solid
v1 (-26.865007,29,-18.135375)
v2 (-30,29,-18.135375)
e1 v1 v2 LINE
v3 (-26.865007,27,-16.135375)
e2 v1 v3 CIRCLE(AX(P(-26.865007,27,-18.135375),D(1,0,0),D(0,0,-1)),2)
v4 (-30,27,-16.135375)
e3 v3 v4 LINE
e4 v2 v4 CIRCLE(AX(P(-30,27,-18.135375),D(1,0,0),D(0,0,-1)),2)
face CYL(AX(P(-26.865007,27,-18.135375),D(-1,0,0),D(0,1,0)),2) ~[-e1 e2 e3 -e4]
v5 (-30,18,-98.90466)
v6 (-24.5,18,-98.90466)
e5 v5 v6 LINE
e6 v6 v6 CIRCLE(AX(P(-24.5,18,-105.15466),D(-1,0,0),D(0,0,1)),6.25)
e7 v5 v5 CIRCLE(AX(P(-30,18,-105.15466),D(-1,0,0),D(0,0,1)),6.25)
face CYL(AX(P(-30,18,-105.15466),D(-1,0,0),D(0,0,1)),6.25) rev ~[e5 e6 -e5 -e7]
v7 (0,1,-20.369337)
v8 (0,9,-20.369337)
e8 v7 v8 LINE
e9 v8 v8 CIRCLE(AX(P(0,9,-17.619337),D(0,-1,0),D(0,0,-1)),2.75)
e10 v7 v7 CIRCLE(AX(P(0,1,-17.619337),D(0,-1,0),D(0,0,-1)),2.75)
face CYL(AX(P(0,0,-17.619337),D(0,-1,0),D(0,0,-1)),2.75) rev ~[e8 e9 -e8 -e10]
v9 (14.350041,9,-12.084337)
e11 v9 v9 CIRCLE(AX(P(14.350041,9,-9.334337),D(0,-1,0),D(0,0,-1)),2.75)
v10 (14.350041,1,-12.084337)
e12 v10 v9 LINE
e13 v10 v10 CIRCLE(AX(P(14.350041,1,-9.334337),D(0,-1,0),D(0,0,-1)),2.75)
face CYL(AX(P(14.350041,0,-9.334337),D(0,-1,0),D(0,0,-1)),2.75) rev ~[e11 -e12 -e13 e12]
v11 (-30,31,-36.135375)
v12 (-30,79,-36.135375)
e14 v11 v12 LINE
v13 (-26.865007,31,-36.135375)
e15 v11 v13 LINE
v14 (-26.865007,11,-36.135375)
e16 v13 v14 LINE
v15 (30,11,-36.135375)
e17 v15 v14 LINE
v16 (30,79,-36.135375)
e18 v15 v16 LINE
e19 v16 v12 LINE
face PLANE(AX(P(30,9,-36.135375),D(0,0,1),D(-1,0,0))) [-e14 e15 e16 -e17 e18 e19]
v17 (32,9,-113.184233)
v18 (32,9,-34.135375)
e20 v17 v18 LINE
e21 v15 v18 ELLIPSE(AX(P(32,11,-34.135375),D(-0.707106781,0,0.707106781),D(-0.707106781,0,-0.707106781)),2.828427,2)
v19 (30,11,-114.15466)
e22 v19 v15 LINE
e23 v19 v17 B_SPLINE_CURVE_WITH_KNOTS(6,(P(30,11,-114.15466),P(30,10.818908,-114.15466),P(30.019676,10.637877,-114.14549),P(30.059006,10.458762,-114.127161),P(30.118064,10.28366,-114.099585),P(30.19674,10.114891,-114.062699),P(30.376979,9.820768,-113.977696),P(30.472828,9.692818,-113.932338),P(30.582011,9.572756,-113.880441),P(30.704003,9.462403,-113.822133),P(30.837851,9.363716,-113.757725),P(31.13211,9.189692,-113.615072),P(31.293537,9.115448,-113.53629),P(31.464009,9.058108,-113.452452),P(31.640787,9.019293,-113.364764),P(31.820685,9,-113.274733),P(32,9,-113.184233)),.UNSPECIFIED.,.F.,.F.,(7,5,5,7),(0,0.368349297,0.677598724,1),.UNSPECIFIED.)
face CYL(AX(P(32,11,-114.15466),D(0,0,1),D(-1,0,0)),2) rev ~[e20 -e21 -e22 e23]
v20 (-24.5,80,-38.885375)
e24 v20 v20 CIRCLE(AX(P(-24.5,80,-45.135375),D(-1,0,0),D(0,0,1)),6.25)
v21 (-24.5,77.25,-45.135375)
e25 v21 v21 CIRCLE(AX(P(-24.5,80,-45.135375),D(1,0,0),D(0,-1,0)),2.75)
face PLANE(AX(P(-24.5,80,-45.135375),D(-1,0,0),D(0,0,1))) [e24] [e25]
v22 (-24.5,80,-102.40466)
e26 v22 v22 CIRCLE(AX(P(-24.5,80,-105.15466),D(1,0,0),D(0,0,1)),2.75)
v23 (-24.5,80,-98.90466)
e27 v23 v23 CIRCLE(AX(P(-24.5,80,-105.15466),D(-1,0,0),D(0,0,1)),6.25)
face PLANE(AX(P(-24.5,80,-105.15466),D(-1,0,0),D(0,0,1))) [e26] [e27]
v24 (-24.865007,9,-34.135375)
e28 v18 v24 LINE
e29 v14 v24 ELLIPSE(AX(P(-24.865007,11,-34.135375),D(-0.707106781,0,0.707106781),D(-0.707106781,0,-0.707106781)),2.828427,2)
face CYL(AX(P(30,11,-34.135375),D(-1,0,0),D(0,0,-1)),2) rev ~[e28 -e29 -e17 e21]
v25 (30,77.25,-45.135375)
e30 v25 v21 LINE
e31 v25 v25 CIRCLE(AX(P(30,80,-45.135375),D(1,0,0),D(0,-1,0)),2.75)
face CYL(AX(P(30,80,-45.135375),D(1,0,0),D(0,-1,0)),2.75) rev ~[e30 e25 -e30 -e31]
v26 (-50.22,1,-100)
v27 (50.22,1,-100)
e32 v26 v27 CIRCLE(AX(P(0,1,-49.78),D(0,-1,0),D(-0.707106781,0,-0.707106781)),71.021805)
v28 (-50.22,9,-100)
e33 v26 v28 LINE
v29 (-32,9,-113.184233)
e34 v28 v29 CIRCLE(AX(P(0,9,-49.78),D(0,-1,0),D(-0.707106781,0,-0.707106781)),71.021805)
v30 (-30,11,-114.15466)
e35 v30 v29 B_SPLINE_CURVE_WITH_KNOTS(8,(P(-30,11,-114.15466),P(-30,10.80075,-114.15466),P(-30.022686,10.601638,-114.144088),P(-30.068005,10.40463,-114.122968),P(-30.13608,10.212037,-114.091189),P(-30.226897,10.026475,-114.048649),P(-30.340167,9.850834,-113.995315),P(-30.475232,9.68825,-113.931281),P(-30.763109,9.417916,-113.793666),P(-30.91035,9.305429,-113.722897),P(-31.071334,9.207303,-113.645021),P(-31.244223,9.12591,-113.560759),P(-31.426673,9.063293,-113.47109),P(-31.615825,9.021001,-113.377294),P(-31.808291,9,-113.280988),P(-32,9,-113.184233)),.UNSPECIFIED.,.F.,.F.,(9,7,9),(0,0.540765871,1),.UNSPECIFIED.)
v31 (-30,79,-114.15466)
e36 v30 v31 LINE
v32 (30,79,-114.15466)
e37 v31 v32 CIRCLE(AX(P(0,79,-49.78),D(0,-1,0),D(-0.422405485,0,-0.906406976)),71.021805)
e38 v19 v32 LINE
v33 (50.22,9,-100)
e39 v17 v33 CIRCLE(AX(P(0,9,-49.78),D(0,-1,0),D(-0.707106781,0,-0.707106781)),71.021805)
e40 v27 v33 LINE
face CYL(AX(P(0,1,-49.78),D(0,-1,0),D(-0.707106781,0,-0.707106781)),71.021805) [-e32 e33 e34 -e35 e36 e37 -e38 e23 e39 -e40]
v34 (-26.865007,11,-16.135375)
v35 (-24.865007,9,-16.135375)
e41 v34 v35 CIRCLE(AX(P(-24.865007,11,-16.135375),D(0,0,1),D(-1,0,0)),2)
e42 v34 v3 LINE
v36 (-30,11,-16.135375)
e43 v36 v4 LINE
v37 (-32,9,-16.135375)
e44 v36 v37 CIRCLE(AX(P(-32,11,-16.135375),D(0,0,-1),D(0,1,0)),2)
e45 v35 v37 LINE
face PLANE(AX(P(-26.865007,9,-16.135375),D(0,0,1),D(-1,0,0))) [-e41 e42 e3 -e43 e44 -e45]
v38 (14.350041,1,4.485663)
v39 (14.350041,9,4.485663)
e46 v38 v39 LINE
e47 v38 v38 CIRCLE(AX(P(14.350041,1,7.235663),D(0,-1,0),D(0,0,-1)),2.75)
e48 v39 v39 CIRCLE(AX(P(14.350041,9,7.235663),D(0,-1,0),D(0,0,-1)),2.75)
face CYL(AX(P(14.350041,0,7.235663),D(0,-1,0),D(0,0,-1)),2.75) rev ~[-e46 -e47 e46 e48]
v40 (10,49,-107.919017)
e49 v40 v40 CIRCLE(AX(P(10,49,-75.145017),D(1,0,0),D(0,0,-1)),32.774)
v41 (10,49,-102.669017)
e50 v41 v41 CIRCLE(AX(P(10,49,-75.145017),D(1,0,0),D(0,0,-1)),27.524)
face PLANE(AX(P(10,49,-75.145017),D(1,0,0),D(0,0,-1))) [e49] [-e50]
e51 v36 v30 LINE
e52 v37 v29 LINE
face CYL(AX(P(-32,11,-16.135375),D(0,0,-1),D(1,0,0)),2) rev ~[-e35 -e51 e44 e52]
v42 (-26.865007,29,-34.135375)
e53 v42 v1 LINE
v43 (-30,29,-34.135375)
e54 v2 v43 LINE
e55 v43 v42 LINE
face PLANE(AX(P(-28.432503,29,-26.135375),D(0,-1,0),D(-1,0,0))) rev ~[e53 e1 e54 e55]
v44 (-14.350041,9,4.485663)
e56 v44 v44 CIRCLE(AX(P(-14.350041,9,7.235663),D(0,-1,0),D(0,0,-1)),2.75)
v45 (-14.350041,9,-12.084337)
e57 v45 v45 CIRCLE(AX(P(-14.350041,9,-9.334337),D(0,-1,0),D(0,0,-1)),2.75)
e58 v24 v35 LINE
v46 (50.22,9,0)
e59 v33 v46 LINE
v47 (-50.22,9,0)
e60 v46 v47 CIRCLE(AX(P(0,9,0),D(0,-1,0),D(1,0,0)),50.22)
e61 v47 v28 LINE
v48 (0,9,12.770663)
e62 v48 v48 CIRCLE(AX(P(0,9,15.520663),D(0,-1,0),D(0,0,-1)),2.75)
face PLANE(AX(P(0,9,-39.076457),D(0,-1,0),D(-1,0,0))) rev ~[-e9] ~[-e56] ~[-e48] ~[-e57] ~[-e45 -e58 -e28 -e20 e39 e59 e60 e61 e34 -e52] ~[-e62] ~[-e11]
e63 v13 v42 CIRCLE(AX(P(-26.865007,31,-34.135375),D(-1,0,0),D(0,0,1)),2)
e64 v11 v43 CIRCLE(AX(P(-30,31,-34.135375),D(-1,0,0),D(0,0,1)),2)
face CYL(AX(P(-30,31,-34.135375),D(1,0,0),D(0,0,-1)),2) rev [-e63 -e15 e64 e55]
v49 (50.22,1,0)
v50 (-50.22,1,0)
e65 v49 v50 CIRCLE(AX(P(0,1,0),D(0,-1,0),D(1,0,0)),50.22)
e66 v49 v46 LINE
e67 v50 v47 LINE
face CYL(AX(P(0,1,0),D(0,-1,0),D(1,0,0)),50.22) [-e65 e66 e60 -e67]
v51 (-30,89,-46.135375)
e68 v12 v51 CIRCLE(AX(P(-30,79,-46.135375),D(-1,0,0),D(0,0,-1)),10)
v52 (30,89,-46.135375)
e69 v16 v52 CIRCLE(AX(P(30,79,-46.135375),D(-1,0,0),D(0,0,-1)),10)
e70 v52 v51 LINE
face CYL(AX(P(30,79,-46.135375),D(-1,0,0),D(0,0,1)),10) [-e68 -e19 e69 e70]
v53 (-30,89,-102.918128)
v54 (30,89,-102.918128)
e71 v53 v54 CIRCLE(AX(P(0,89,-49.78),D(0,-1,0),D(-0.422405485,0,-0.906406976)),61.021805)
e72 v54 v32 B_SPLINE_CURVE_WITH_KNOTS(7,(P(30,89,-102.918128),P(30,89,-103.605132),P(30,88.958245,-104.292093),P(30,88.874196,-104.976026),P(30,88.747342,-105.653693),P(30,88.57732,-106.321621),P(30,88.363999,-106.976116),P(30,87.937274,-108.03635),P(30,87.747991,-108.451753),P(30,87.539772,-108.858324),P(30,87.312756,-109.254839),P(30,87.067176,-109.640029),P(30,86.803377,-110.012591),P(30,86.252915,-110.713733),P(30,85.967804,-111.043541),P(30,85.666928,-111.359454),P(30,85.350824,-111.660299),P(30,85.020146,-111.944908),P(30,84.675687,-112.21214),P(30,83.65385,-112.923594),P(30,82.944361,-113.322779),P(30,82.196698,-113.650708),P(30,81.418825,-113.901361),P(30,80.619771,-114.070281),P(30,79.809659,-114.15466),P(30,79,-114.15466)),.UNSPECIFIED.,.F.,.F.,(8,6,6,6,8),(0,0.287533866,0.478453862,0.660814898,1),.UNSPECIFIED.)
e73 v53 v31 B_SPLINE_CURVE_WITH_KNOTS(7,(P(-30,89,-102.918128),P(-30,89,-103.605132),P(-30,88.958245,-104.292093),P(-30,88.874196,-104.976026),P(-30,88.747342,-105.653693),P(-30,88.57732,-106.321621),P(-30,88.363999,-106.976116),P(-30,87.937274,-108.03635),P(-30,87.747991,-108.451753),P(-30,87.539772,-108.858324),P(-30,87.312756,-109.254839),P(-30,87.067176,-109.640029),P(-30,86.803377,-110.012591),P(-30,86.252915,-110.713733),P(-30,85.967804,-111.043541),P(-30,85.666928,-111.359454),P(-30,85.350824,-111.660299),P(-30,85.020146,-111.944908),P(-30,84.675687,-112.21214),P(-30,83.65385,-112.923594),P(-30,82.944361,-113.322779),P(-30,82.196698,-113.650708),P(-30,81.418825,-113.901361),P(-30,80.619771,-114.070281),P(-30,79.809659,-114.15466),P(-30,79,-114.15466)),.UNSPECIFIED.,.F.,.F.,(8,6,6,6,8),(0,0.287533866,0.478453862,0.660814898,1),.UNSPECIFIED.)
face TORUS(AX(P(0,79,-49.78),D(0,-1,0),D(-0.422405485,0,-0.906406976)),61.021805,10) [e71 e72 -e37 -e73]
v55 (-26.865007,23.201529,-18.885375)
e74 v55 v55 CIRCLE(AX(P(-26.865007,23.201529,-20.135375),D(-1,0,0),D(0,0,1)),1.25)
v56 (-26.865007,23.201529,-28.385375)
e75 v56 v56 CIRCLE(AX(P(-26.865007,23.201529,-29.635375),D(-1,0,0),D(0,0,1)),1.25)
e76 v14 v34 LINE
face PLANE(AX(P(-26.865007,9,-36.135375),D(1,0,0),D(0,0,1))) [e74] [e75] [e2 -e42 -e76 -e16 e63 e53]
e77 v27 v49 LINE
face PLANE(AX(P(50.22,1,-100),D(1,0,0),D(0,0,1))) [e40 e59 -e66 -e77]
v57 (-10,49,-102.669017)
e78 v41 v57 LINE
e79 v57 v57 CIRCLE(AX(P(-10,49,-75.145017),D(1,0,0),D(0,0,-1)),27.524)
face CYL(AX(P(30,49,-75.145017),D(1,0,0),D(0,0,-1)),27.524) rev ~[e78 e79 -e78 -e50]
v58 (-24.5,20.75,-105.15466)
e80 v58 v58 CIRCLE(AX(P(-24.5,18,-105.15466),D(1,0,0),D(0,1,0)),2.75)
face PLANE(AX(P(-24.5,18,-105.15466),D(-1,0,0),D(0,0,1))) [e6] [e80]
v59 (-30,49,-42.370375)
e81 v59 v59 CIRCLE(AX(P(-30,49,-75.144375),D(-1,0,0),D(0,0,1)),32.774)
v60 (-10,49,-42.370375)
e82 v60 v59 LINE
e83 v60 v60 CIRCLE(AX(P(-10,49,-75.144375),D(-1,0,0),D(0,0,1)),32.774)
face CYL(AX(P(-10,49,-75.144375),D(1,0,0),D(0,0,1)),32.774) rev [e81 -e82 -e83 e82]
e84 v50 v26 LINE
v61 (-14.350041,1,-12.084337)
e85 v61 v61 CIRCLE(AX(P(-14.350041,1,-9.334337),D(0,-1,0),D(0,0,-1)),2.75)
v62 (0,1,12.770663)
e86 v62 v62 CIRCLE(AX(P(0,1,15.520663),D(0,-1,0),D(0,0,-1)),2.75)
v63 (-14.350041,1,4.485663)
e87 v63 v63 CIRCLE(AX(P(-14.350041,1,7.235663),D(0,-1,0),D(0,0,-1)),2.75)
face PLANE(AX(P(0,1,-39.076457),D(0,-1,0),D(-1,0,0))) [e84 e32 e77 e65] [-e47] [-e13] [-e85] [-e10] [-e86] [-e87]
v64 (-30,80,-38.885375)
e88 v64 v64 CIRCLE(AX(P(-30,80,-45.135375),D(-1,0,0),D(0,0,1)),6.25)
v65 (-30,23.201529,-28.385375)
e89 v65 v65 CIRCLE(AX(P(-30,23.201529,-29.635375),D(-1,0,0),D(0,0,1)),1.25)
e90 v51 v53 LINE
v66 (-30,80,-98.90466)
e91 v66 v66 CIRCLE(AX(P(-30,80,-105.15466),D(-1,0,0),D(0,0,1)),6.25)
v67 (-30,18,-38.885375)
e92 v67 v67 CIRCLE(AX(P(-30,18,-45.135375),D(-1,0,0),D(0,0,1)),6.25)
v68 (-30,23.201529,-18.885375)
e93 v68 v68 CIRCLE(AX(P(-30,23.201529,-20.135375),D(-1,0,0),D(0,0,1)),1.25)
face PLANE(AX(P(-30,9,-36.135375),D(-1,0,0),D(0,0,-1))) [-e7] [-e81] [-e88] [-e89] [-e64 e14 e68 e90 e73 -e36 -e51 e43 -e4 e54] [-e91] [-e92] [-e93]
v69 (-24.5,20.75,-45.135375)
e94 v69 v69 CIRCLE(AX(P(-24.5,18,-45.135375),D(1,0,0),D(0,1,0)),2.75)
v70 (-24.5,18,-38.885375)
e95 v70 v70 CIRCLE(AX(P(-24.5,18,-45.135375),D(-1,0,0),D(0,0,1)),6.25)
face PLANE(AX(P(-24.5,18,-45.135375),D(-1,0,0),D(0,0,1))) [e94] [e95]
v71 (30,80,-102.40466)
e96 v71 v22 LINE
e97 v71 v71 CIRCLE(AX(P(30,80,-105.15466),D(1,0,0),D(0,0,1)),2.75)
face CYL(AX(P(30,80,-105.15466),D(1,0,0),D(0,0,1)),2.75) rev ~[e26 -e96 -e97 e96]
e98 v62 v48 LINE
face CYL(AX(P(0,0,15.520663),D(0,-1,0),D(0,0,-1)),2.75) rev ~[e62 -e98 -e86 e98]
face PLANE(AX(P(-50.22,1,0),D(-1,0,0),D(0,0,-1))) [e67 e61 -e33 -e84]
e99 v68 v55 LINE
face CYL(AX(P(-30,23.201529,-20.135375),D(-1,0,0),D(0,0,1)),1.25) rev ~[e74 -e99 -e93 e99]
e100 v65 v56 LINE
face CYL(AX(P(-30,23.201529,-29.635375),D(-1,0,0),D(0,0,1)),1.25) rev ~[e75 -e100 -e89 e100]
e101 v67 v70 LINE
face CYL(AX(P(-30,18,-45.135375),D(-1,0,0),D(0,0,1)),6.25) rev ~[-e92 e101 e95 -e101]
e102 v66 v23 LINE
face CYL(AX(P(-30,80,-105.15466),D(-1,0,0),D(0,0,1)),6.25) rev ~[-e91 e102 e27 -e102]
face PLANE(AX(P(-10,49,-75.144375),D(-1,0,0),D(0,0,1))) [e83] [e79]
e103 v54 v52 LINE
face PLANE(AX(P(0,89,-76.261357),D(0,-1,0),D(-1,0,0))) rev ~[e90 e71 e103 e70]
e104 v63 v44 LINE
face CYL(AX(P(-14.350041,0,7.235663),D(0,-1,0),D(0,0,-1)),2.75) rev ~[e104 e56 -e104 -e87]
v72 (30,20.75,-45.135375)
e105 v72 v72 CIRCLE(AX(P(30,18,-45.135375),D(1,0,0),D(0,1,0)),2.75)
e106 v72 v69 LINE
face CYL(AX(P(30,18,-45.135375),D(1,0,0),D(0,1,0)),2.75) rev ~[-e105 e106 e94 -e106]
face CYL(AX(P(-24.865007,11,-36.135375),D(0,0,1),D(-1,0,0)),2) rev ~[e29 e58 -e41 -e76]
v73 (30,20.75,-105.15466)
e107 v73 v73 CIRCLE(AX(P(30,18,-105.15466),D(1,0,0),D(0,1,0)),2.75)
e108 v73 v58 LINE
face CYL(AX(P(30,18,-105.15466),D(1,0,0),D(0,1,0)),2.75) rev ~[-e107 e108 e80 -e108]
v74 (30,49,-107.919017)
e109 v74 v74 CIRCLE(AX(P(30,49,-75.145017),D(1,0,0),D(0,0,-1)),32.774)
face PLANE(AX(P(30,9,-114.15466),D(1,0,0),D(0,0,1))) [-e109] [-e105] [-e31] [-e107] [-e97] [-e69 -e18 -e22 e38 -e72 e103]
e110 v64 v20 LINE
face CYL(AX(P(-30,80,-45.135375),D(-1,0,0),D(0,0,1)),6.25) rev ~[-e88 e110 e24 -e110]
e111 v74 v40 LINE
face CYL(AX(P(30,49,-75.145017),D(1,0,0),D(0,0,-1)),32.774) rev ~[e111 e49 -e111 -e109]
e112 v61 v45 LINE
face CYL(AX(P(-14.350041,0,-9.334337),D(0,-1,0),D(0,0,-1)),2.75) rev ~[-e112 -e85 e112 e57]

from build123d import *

# Parameters (mm, degrees)
SKETCH3_R               = 44.22
SKETCH3_R_2             = 2.7499999999999996
SKETCH3_R_3             = 2.75
SKETCH3_R_4             = 2.7499999999999982
BOSS_EXTRUDE1_DEPTH     = 1
BOSS_EXTRUDE2_DEPTH     = 8
SKETCH9_R               = 2.7499999999999996
SKETCH9_R_2             = 2.75
SKETCH9_R_3             = 2.7499999999999982
CUT_EXTRUDE2_DEPTH      = 20.000000000000004
BOSS_EXTRUDE3_DEPTH     = 80
CUT_EXTRUDE3_DEPTH      = 10
CUT_EXTRUDE3_DEPTH_BACK = 10
SKETCH12_R              = 32.774
SKETCH13_R              = 32.774
CUT_EXTRUDE4_DEPTH      = 20
SKETCH13_3_R            = 27.523999999999997
CUT_EXTRUDE5_DEPTH      = 66
BOSS_EXTRUDE4_DEPTH     = 20
SKETCH3_4_R             = 44.22
SKETCH3_4_R_2           = 2.7499999999999996
SKETCH3_4_R_3           = 2.75
SKETCH3_4_R_4           = 2.7499999999999982
CUT_EXTRUDE6_DEPTH      = 1
SKETCH15_R              = 1.2500000000000013
CUT_EXTRUDE7_DEPTH      = 10
SKETCH17_R              = 2.7499999999999964
SKETCH17_R_2            = 2.7500000000000298
SKETCH17_R_3            = 2.7500000000000013
SKETCH17_R_4            = 2.7500000000000178
CUT_EXTRUDE8_DEPTH      = 83.00000000000001
SKETCH18_R              = 6.250000000000003
SKETCH18_R_2            = 6.250000000000001
SKETCH18_R_3            = 6.250000000000002
CUT_EXTRUDE9_DEPTH      = 5.5
FILLET1_R               = 10
FILLET2_R               = 2
FILLET3_R               = 2


with BuildPart() as part:
    # Sketch3 → Boss-Extrude1 (new body)
    with BuildSketch(Plane(origin=(0, 0, 0), x_dir=(1, 0, 0), z_dir=(0, 1, 0))):
        with Locations((-1.3e-16, 1.0493371124306385)):
            Circle(SKETCH3_R)
        with Locations((-1.1596e-13, 17.619337112430635)):
            Circle(SKETCH3_R_2, mode=Mode.SUBTRACT)
        with Locations((14.350040940708112, 9.334337112430703)):
            Circle(SKETCH3_R_3, mode=Mode.SUBTRACT)
        with Locations((14.350040940708167, -7.235662887569328)):
            Circle(SKETCH3_R_3, mode=Mode.SUBTRACT)
        with Locations((0, -15.520662887569364)):
            Circle(SKETCH3_R_3, mode=Mode.SUBTRACT)
        with Locations((-14.350040940708052, -7.235662887569527)):
            Circle(SKETCH3_R_4, mode=Mode.SUBTRACT)
        with Locations((-14.350040940708224, 9.334337112430505)):
            Circle(SKETCH3_R_4, mode=Mode.SUBTRACT)
    extrude(amount=BOSS_EXTRUDE1_DEPTH)

    # Sketch4 → Boss-Extrude2 (add)
    with BuildSketch(Plane(origin=(0, 1, 0), x_dir=(1, 0, 0), z_dir=(0, 1, 0))):
        with BuildLine():
            Line((-50.22, 0), (-50.22, 100))
            ThreePointArc((-50.22, 100), (4.35e-15, 120.80180510237683), (50.22, 100))
            Line((50.22, 100), (50.22, 0))
            ThreePointArc((50.22, 0), (3.08e-15, -50.22), (-50.22, 0))
        make_face()
    extrude(amount=BOSS_EXTRUDE2_DEPTH)

    # Sketch9 → Cut-Extrude2 (cut)
    with BuildSketch(Plane.XZ):
        with Locations((0, 15.520662887569364)):
            Circle(SKETCH9_R)
        with Locations((14.350040940708167, 7.235662887569328)):
            Circle(SKETCH9_R_2)
        with Locations((14.350040940708112, -9.334337112430703)):
            Circle(SKETCH9_R_2)
        with Locations((-1.1596e-13, -17.619337112430635)):
            Circle(SKETCH9_R)
        with Locations((-14.350040940708224, -9.334337112430505)):
            Circle(SKETCH9_R_3)
        with Locations((-14.350040940708052, 7.235662887569527)):
            Circle(SKETCH9_R_3)
    extrude(amount=-CUT_EXTRUDE2_DEPTH, mode=Mode.SUBTRACT)

    # Sketch11 → Boss-Extrude3 (add)
    with BuildSketch(Plane(origin=(0, 9.000000000000002, 0), x_dir=(1, 0, 0), z_dir=(0, 1, 0))):
        with BuildLine():
            Line((-6.94e-15, 36.135374780750475), (-30.00000000000018, 36.135374780750475))
            Line((-30.00000000000018, 36.135374780750475), (-30.000000000000174, 114.15465961075047))
            ThreePointArc((-30.000000000000174, 114.15465961075047), (-1.9981e-13, 120.8018051023768), (29.999999999999822, 114.15465961075066))
            Line((29.999999999999822, 114.15465961075066), (29.999999999999837, 36.135374780750475))
            Line((29.999999999999837, 36.135374780750475), (-6.94e-15, 36.135374780750475))
        make_face()
    extrude(amount=BOSS_EXTRUDE3_DEPTH)

    # Sketch12 → Cut-Extrude3 (cut, two sides: drawn at the far end of the back side and taken through both)
    with BuildSketch(Plane.ZY.offset(20).offset(-CUT_EXTRUDE3_DEPTH_BACK)):
        with Locations((-75.14437478075048, 49)):
            Circle(SKETCH12_R)
    extrude(amount=CUT_EXTRUDE3_DEPTH + CUT_EXTRUDE3_DEPTH_BACK, mode=Mode.SUBTRACT)

    # Sketch13 → Cut-Extrude4 (cut)
    with BuildSketch(Plane(origin=(29.999999999999844, 0, -5.34e-15), x_dir=(-1.8e-16, 0, -1), z_dir=(1, 0, -1.8e-16))):
        with Locations((75.14501719575057, 49)):
            Circle(SKETCH13_R)
    extrude(amount=-CUT_EXTRUDE4_DEPTH, mode=Mode.SUBTRACT)

    # Sketch13<3> → Cut-Extrude5 (cut)
    with BuildSketch(Plane(origin=(29.999999999999844, 0, -5.34e-15), x_dir=(-1.8e-16, 0, -1), z_dir=(1, 0, -1.8e-16))):
        with Locations((75.14501719575057, 49)):
            Circle(SKETCH13_3_R)
    extrude(amount=-CUT_EXTRUDE5_DEPTH, mode=Mode.SUBTRACT)

    # Sketch14 → Boss-Extrude4 (add)
    with BuildSketch(Plane(origin=(0, 9.000000000000002, 0), x_dir=(1, 0, 0), z_dir=(0, 1, 0))):
        Polygon((-30.00000000000018, 36.135374780750475), (-26.865006521544387, 36.135374780750475), (-26.865006521544384, 16.135374780750475), (-30.000000000000178, 16.135374780750475), align=None)
    extrude(amount=BOSS_EXTRUDE4_DEPTH)

    # Sketch3<4> → Cut-Extrude6 (cut)
    with BuildSketch(Plane(origin=(0, 0, 0), x_dir=(1, 0, 0), z_dir=(0, 1, 0))):
        with Locations((-1.3e-16, 1.0493371124306385)):
            Circle(SKETCH3_4_R)
        with Locations((-1.1596e-13, 17.619337112430635)):
            Circle(SKETCH3_4_R_2, mode=Mode.SUBTRACT)
        with Locations((14.350040940708112, 9.334337112430703)):
            Circle(SKETCH3_4_R_3, mode=Mode.SUBTRACT)
        with Locations((14.350040940708167, -7.235662887569328)):
            Circle(SKETCH3_4_R_3, mode=Mode.SUBTRACT)
        with Locations((0, -15.520662887569364)):
            Circle(SKETCH3_4_R_3, mode=Mode.SUBTRACT)
        with Locations((-14.350040940708052, -7.235662887569527)):
            Circle(SKETCH3_4_R_4, mode=Mode.SUBTRACT)
        with Locations((-14.350040940708224, 9.334337112430505)):
            Circle(SKETCH3_4_R_4, mode=Mode.SUBTRACT)
    extrude(amount=CUT_EXTRUDE6_DEPTH, mode=Mode.SUBTRACT)

    # Sketch15 → Cut-Extrude7 (cut)
    with BuildSketch(Plane.ZY.offset(30.000000000000185)):
        with Locations((-20.13537478075047, 23.20152903851172)):
            Circle(SKETCH15_R)
        with Locations((-29.63537478075047, 23.20152903851172)):
            Circle(SKETCH15_R)
    extrude(amount=-CUT_EXTRUDE7_DEPTH, mode=Mode.SUBTRACT)

    # Sketch17 → Cut-Extrude8 (cut)
    with BuildSketch(Plane(origin=(29.999999999999844, 0, -5.34e-15), x_dir=(-1.8e-16, 0, -1), z_dir=(1, 0, -1.8e-16))):
        with Locations((45.135374780750475, 80)):
            Circle(SKETCH17_R)
        with Locations((105.15465961075067, 80.00000000000001)):
            Circle(SKETCH17_R_2)
        with Locations((45.135374780750475, 18.000000000000004)):
            Circle(SKETCH17_R_3)
        with Locations((105.15465961075066, 17.99999999999999)):
            Circle(SKETCH17_R_4)
    extrude(amount=-CUT_EXTRUDE8_DEPTH, mode=Mode.SUBTRACT)

    # Sketch18 → Cut-Extrude9 (cut)
    with BuildSketch(Plane.ZY.offset(30.000000000000185)):
        with Locations((-105.15465961075064, 80)):
            Circle(SKETCH18_R)
        with Locations((-45.13537478075047, 80)):
            Circle(SKETCH18_R)
        with Locations((-45.135374780750475, 18.000000000000004)):
            Circle(SKETCH18_R_2)
        with Locations((-105.15465961075064, 18.000000000000004)):
            Circle(SKETCH18_R_3)
    extrude(amount=-CUT_EXTRUDE9_DEPTH, mode=Mode.SUBTRACT)

    # Fillet1
    fillet1_edges = [part.edges().sort_by_distance(p)[0] for p in [
        (-1.9451e-13, 89, -120.80180510237682),
        (-1.7053e-13, 89, -36.135374780750475),
    ]]
    fillet(fillet1_edges, radius=FILLET1_R)

    # Fillet2
    fillet2_edges = [part.edges().sort_by_distance(p)[0] for p in [
        (-26.865006521544387, 9.000000000000002, -26.135374780750475),
        (1.567496739227721, 9.000000000000002, -36.135374780750475),
        (29.99999999999983, 9.000000000000002, -75.14501719575057),
        (-30.000000000000178, 9.000000000000002, -65.14501719575048),
    ]]
    fillet(fillet2_edges, radius=FILLET2_R)

    # Fillet3
    fillet3_edges = [part.edges().sort_by_distance(p)[0] for p in [
        (-28.432503260772286, 29, -36.135374780750475),
        (-28.43250326077228, 29, -16.135374780750475),
    ]]
    fillet(fillet3_edges, radius=FILLET3_R)


solid = part.part
